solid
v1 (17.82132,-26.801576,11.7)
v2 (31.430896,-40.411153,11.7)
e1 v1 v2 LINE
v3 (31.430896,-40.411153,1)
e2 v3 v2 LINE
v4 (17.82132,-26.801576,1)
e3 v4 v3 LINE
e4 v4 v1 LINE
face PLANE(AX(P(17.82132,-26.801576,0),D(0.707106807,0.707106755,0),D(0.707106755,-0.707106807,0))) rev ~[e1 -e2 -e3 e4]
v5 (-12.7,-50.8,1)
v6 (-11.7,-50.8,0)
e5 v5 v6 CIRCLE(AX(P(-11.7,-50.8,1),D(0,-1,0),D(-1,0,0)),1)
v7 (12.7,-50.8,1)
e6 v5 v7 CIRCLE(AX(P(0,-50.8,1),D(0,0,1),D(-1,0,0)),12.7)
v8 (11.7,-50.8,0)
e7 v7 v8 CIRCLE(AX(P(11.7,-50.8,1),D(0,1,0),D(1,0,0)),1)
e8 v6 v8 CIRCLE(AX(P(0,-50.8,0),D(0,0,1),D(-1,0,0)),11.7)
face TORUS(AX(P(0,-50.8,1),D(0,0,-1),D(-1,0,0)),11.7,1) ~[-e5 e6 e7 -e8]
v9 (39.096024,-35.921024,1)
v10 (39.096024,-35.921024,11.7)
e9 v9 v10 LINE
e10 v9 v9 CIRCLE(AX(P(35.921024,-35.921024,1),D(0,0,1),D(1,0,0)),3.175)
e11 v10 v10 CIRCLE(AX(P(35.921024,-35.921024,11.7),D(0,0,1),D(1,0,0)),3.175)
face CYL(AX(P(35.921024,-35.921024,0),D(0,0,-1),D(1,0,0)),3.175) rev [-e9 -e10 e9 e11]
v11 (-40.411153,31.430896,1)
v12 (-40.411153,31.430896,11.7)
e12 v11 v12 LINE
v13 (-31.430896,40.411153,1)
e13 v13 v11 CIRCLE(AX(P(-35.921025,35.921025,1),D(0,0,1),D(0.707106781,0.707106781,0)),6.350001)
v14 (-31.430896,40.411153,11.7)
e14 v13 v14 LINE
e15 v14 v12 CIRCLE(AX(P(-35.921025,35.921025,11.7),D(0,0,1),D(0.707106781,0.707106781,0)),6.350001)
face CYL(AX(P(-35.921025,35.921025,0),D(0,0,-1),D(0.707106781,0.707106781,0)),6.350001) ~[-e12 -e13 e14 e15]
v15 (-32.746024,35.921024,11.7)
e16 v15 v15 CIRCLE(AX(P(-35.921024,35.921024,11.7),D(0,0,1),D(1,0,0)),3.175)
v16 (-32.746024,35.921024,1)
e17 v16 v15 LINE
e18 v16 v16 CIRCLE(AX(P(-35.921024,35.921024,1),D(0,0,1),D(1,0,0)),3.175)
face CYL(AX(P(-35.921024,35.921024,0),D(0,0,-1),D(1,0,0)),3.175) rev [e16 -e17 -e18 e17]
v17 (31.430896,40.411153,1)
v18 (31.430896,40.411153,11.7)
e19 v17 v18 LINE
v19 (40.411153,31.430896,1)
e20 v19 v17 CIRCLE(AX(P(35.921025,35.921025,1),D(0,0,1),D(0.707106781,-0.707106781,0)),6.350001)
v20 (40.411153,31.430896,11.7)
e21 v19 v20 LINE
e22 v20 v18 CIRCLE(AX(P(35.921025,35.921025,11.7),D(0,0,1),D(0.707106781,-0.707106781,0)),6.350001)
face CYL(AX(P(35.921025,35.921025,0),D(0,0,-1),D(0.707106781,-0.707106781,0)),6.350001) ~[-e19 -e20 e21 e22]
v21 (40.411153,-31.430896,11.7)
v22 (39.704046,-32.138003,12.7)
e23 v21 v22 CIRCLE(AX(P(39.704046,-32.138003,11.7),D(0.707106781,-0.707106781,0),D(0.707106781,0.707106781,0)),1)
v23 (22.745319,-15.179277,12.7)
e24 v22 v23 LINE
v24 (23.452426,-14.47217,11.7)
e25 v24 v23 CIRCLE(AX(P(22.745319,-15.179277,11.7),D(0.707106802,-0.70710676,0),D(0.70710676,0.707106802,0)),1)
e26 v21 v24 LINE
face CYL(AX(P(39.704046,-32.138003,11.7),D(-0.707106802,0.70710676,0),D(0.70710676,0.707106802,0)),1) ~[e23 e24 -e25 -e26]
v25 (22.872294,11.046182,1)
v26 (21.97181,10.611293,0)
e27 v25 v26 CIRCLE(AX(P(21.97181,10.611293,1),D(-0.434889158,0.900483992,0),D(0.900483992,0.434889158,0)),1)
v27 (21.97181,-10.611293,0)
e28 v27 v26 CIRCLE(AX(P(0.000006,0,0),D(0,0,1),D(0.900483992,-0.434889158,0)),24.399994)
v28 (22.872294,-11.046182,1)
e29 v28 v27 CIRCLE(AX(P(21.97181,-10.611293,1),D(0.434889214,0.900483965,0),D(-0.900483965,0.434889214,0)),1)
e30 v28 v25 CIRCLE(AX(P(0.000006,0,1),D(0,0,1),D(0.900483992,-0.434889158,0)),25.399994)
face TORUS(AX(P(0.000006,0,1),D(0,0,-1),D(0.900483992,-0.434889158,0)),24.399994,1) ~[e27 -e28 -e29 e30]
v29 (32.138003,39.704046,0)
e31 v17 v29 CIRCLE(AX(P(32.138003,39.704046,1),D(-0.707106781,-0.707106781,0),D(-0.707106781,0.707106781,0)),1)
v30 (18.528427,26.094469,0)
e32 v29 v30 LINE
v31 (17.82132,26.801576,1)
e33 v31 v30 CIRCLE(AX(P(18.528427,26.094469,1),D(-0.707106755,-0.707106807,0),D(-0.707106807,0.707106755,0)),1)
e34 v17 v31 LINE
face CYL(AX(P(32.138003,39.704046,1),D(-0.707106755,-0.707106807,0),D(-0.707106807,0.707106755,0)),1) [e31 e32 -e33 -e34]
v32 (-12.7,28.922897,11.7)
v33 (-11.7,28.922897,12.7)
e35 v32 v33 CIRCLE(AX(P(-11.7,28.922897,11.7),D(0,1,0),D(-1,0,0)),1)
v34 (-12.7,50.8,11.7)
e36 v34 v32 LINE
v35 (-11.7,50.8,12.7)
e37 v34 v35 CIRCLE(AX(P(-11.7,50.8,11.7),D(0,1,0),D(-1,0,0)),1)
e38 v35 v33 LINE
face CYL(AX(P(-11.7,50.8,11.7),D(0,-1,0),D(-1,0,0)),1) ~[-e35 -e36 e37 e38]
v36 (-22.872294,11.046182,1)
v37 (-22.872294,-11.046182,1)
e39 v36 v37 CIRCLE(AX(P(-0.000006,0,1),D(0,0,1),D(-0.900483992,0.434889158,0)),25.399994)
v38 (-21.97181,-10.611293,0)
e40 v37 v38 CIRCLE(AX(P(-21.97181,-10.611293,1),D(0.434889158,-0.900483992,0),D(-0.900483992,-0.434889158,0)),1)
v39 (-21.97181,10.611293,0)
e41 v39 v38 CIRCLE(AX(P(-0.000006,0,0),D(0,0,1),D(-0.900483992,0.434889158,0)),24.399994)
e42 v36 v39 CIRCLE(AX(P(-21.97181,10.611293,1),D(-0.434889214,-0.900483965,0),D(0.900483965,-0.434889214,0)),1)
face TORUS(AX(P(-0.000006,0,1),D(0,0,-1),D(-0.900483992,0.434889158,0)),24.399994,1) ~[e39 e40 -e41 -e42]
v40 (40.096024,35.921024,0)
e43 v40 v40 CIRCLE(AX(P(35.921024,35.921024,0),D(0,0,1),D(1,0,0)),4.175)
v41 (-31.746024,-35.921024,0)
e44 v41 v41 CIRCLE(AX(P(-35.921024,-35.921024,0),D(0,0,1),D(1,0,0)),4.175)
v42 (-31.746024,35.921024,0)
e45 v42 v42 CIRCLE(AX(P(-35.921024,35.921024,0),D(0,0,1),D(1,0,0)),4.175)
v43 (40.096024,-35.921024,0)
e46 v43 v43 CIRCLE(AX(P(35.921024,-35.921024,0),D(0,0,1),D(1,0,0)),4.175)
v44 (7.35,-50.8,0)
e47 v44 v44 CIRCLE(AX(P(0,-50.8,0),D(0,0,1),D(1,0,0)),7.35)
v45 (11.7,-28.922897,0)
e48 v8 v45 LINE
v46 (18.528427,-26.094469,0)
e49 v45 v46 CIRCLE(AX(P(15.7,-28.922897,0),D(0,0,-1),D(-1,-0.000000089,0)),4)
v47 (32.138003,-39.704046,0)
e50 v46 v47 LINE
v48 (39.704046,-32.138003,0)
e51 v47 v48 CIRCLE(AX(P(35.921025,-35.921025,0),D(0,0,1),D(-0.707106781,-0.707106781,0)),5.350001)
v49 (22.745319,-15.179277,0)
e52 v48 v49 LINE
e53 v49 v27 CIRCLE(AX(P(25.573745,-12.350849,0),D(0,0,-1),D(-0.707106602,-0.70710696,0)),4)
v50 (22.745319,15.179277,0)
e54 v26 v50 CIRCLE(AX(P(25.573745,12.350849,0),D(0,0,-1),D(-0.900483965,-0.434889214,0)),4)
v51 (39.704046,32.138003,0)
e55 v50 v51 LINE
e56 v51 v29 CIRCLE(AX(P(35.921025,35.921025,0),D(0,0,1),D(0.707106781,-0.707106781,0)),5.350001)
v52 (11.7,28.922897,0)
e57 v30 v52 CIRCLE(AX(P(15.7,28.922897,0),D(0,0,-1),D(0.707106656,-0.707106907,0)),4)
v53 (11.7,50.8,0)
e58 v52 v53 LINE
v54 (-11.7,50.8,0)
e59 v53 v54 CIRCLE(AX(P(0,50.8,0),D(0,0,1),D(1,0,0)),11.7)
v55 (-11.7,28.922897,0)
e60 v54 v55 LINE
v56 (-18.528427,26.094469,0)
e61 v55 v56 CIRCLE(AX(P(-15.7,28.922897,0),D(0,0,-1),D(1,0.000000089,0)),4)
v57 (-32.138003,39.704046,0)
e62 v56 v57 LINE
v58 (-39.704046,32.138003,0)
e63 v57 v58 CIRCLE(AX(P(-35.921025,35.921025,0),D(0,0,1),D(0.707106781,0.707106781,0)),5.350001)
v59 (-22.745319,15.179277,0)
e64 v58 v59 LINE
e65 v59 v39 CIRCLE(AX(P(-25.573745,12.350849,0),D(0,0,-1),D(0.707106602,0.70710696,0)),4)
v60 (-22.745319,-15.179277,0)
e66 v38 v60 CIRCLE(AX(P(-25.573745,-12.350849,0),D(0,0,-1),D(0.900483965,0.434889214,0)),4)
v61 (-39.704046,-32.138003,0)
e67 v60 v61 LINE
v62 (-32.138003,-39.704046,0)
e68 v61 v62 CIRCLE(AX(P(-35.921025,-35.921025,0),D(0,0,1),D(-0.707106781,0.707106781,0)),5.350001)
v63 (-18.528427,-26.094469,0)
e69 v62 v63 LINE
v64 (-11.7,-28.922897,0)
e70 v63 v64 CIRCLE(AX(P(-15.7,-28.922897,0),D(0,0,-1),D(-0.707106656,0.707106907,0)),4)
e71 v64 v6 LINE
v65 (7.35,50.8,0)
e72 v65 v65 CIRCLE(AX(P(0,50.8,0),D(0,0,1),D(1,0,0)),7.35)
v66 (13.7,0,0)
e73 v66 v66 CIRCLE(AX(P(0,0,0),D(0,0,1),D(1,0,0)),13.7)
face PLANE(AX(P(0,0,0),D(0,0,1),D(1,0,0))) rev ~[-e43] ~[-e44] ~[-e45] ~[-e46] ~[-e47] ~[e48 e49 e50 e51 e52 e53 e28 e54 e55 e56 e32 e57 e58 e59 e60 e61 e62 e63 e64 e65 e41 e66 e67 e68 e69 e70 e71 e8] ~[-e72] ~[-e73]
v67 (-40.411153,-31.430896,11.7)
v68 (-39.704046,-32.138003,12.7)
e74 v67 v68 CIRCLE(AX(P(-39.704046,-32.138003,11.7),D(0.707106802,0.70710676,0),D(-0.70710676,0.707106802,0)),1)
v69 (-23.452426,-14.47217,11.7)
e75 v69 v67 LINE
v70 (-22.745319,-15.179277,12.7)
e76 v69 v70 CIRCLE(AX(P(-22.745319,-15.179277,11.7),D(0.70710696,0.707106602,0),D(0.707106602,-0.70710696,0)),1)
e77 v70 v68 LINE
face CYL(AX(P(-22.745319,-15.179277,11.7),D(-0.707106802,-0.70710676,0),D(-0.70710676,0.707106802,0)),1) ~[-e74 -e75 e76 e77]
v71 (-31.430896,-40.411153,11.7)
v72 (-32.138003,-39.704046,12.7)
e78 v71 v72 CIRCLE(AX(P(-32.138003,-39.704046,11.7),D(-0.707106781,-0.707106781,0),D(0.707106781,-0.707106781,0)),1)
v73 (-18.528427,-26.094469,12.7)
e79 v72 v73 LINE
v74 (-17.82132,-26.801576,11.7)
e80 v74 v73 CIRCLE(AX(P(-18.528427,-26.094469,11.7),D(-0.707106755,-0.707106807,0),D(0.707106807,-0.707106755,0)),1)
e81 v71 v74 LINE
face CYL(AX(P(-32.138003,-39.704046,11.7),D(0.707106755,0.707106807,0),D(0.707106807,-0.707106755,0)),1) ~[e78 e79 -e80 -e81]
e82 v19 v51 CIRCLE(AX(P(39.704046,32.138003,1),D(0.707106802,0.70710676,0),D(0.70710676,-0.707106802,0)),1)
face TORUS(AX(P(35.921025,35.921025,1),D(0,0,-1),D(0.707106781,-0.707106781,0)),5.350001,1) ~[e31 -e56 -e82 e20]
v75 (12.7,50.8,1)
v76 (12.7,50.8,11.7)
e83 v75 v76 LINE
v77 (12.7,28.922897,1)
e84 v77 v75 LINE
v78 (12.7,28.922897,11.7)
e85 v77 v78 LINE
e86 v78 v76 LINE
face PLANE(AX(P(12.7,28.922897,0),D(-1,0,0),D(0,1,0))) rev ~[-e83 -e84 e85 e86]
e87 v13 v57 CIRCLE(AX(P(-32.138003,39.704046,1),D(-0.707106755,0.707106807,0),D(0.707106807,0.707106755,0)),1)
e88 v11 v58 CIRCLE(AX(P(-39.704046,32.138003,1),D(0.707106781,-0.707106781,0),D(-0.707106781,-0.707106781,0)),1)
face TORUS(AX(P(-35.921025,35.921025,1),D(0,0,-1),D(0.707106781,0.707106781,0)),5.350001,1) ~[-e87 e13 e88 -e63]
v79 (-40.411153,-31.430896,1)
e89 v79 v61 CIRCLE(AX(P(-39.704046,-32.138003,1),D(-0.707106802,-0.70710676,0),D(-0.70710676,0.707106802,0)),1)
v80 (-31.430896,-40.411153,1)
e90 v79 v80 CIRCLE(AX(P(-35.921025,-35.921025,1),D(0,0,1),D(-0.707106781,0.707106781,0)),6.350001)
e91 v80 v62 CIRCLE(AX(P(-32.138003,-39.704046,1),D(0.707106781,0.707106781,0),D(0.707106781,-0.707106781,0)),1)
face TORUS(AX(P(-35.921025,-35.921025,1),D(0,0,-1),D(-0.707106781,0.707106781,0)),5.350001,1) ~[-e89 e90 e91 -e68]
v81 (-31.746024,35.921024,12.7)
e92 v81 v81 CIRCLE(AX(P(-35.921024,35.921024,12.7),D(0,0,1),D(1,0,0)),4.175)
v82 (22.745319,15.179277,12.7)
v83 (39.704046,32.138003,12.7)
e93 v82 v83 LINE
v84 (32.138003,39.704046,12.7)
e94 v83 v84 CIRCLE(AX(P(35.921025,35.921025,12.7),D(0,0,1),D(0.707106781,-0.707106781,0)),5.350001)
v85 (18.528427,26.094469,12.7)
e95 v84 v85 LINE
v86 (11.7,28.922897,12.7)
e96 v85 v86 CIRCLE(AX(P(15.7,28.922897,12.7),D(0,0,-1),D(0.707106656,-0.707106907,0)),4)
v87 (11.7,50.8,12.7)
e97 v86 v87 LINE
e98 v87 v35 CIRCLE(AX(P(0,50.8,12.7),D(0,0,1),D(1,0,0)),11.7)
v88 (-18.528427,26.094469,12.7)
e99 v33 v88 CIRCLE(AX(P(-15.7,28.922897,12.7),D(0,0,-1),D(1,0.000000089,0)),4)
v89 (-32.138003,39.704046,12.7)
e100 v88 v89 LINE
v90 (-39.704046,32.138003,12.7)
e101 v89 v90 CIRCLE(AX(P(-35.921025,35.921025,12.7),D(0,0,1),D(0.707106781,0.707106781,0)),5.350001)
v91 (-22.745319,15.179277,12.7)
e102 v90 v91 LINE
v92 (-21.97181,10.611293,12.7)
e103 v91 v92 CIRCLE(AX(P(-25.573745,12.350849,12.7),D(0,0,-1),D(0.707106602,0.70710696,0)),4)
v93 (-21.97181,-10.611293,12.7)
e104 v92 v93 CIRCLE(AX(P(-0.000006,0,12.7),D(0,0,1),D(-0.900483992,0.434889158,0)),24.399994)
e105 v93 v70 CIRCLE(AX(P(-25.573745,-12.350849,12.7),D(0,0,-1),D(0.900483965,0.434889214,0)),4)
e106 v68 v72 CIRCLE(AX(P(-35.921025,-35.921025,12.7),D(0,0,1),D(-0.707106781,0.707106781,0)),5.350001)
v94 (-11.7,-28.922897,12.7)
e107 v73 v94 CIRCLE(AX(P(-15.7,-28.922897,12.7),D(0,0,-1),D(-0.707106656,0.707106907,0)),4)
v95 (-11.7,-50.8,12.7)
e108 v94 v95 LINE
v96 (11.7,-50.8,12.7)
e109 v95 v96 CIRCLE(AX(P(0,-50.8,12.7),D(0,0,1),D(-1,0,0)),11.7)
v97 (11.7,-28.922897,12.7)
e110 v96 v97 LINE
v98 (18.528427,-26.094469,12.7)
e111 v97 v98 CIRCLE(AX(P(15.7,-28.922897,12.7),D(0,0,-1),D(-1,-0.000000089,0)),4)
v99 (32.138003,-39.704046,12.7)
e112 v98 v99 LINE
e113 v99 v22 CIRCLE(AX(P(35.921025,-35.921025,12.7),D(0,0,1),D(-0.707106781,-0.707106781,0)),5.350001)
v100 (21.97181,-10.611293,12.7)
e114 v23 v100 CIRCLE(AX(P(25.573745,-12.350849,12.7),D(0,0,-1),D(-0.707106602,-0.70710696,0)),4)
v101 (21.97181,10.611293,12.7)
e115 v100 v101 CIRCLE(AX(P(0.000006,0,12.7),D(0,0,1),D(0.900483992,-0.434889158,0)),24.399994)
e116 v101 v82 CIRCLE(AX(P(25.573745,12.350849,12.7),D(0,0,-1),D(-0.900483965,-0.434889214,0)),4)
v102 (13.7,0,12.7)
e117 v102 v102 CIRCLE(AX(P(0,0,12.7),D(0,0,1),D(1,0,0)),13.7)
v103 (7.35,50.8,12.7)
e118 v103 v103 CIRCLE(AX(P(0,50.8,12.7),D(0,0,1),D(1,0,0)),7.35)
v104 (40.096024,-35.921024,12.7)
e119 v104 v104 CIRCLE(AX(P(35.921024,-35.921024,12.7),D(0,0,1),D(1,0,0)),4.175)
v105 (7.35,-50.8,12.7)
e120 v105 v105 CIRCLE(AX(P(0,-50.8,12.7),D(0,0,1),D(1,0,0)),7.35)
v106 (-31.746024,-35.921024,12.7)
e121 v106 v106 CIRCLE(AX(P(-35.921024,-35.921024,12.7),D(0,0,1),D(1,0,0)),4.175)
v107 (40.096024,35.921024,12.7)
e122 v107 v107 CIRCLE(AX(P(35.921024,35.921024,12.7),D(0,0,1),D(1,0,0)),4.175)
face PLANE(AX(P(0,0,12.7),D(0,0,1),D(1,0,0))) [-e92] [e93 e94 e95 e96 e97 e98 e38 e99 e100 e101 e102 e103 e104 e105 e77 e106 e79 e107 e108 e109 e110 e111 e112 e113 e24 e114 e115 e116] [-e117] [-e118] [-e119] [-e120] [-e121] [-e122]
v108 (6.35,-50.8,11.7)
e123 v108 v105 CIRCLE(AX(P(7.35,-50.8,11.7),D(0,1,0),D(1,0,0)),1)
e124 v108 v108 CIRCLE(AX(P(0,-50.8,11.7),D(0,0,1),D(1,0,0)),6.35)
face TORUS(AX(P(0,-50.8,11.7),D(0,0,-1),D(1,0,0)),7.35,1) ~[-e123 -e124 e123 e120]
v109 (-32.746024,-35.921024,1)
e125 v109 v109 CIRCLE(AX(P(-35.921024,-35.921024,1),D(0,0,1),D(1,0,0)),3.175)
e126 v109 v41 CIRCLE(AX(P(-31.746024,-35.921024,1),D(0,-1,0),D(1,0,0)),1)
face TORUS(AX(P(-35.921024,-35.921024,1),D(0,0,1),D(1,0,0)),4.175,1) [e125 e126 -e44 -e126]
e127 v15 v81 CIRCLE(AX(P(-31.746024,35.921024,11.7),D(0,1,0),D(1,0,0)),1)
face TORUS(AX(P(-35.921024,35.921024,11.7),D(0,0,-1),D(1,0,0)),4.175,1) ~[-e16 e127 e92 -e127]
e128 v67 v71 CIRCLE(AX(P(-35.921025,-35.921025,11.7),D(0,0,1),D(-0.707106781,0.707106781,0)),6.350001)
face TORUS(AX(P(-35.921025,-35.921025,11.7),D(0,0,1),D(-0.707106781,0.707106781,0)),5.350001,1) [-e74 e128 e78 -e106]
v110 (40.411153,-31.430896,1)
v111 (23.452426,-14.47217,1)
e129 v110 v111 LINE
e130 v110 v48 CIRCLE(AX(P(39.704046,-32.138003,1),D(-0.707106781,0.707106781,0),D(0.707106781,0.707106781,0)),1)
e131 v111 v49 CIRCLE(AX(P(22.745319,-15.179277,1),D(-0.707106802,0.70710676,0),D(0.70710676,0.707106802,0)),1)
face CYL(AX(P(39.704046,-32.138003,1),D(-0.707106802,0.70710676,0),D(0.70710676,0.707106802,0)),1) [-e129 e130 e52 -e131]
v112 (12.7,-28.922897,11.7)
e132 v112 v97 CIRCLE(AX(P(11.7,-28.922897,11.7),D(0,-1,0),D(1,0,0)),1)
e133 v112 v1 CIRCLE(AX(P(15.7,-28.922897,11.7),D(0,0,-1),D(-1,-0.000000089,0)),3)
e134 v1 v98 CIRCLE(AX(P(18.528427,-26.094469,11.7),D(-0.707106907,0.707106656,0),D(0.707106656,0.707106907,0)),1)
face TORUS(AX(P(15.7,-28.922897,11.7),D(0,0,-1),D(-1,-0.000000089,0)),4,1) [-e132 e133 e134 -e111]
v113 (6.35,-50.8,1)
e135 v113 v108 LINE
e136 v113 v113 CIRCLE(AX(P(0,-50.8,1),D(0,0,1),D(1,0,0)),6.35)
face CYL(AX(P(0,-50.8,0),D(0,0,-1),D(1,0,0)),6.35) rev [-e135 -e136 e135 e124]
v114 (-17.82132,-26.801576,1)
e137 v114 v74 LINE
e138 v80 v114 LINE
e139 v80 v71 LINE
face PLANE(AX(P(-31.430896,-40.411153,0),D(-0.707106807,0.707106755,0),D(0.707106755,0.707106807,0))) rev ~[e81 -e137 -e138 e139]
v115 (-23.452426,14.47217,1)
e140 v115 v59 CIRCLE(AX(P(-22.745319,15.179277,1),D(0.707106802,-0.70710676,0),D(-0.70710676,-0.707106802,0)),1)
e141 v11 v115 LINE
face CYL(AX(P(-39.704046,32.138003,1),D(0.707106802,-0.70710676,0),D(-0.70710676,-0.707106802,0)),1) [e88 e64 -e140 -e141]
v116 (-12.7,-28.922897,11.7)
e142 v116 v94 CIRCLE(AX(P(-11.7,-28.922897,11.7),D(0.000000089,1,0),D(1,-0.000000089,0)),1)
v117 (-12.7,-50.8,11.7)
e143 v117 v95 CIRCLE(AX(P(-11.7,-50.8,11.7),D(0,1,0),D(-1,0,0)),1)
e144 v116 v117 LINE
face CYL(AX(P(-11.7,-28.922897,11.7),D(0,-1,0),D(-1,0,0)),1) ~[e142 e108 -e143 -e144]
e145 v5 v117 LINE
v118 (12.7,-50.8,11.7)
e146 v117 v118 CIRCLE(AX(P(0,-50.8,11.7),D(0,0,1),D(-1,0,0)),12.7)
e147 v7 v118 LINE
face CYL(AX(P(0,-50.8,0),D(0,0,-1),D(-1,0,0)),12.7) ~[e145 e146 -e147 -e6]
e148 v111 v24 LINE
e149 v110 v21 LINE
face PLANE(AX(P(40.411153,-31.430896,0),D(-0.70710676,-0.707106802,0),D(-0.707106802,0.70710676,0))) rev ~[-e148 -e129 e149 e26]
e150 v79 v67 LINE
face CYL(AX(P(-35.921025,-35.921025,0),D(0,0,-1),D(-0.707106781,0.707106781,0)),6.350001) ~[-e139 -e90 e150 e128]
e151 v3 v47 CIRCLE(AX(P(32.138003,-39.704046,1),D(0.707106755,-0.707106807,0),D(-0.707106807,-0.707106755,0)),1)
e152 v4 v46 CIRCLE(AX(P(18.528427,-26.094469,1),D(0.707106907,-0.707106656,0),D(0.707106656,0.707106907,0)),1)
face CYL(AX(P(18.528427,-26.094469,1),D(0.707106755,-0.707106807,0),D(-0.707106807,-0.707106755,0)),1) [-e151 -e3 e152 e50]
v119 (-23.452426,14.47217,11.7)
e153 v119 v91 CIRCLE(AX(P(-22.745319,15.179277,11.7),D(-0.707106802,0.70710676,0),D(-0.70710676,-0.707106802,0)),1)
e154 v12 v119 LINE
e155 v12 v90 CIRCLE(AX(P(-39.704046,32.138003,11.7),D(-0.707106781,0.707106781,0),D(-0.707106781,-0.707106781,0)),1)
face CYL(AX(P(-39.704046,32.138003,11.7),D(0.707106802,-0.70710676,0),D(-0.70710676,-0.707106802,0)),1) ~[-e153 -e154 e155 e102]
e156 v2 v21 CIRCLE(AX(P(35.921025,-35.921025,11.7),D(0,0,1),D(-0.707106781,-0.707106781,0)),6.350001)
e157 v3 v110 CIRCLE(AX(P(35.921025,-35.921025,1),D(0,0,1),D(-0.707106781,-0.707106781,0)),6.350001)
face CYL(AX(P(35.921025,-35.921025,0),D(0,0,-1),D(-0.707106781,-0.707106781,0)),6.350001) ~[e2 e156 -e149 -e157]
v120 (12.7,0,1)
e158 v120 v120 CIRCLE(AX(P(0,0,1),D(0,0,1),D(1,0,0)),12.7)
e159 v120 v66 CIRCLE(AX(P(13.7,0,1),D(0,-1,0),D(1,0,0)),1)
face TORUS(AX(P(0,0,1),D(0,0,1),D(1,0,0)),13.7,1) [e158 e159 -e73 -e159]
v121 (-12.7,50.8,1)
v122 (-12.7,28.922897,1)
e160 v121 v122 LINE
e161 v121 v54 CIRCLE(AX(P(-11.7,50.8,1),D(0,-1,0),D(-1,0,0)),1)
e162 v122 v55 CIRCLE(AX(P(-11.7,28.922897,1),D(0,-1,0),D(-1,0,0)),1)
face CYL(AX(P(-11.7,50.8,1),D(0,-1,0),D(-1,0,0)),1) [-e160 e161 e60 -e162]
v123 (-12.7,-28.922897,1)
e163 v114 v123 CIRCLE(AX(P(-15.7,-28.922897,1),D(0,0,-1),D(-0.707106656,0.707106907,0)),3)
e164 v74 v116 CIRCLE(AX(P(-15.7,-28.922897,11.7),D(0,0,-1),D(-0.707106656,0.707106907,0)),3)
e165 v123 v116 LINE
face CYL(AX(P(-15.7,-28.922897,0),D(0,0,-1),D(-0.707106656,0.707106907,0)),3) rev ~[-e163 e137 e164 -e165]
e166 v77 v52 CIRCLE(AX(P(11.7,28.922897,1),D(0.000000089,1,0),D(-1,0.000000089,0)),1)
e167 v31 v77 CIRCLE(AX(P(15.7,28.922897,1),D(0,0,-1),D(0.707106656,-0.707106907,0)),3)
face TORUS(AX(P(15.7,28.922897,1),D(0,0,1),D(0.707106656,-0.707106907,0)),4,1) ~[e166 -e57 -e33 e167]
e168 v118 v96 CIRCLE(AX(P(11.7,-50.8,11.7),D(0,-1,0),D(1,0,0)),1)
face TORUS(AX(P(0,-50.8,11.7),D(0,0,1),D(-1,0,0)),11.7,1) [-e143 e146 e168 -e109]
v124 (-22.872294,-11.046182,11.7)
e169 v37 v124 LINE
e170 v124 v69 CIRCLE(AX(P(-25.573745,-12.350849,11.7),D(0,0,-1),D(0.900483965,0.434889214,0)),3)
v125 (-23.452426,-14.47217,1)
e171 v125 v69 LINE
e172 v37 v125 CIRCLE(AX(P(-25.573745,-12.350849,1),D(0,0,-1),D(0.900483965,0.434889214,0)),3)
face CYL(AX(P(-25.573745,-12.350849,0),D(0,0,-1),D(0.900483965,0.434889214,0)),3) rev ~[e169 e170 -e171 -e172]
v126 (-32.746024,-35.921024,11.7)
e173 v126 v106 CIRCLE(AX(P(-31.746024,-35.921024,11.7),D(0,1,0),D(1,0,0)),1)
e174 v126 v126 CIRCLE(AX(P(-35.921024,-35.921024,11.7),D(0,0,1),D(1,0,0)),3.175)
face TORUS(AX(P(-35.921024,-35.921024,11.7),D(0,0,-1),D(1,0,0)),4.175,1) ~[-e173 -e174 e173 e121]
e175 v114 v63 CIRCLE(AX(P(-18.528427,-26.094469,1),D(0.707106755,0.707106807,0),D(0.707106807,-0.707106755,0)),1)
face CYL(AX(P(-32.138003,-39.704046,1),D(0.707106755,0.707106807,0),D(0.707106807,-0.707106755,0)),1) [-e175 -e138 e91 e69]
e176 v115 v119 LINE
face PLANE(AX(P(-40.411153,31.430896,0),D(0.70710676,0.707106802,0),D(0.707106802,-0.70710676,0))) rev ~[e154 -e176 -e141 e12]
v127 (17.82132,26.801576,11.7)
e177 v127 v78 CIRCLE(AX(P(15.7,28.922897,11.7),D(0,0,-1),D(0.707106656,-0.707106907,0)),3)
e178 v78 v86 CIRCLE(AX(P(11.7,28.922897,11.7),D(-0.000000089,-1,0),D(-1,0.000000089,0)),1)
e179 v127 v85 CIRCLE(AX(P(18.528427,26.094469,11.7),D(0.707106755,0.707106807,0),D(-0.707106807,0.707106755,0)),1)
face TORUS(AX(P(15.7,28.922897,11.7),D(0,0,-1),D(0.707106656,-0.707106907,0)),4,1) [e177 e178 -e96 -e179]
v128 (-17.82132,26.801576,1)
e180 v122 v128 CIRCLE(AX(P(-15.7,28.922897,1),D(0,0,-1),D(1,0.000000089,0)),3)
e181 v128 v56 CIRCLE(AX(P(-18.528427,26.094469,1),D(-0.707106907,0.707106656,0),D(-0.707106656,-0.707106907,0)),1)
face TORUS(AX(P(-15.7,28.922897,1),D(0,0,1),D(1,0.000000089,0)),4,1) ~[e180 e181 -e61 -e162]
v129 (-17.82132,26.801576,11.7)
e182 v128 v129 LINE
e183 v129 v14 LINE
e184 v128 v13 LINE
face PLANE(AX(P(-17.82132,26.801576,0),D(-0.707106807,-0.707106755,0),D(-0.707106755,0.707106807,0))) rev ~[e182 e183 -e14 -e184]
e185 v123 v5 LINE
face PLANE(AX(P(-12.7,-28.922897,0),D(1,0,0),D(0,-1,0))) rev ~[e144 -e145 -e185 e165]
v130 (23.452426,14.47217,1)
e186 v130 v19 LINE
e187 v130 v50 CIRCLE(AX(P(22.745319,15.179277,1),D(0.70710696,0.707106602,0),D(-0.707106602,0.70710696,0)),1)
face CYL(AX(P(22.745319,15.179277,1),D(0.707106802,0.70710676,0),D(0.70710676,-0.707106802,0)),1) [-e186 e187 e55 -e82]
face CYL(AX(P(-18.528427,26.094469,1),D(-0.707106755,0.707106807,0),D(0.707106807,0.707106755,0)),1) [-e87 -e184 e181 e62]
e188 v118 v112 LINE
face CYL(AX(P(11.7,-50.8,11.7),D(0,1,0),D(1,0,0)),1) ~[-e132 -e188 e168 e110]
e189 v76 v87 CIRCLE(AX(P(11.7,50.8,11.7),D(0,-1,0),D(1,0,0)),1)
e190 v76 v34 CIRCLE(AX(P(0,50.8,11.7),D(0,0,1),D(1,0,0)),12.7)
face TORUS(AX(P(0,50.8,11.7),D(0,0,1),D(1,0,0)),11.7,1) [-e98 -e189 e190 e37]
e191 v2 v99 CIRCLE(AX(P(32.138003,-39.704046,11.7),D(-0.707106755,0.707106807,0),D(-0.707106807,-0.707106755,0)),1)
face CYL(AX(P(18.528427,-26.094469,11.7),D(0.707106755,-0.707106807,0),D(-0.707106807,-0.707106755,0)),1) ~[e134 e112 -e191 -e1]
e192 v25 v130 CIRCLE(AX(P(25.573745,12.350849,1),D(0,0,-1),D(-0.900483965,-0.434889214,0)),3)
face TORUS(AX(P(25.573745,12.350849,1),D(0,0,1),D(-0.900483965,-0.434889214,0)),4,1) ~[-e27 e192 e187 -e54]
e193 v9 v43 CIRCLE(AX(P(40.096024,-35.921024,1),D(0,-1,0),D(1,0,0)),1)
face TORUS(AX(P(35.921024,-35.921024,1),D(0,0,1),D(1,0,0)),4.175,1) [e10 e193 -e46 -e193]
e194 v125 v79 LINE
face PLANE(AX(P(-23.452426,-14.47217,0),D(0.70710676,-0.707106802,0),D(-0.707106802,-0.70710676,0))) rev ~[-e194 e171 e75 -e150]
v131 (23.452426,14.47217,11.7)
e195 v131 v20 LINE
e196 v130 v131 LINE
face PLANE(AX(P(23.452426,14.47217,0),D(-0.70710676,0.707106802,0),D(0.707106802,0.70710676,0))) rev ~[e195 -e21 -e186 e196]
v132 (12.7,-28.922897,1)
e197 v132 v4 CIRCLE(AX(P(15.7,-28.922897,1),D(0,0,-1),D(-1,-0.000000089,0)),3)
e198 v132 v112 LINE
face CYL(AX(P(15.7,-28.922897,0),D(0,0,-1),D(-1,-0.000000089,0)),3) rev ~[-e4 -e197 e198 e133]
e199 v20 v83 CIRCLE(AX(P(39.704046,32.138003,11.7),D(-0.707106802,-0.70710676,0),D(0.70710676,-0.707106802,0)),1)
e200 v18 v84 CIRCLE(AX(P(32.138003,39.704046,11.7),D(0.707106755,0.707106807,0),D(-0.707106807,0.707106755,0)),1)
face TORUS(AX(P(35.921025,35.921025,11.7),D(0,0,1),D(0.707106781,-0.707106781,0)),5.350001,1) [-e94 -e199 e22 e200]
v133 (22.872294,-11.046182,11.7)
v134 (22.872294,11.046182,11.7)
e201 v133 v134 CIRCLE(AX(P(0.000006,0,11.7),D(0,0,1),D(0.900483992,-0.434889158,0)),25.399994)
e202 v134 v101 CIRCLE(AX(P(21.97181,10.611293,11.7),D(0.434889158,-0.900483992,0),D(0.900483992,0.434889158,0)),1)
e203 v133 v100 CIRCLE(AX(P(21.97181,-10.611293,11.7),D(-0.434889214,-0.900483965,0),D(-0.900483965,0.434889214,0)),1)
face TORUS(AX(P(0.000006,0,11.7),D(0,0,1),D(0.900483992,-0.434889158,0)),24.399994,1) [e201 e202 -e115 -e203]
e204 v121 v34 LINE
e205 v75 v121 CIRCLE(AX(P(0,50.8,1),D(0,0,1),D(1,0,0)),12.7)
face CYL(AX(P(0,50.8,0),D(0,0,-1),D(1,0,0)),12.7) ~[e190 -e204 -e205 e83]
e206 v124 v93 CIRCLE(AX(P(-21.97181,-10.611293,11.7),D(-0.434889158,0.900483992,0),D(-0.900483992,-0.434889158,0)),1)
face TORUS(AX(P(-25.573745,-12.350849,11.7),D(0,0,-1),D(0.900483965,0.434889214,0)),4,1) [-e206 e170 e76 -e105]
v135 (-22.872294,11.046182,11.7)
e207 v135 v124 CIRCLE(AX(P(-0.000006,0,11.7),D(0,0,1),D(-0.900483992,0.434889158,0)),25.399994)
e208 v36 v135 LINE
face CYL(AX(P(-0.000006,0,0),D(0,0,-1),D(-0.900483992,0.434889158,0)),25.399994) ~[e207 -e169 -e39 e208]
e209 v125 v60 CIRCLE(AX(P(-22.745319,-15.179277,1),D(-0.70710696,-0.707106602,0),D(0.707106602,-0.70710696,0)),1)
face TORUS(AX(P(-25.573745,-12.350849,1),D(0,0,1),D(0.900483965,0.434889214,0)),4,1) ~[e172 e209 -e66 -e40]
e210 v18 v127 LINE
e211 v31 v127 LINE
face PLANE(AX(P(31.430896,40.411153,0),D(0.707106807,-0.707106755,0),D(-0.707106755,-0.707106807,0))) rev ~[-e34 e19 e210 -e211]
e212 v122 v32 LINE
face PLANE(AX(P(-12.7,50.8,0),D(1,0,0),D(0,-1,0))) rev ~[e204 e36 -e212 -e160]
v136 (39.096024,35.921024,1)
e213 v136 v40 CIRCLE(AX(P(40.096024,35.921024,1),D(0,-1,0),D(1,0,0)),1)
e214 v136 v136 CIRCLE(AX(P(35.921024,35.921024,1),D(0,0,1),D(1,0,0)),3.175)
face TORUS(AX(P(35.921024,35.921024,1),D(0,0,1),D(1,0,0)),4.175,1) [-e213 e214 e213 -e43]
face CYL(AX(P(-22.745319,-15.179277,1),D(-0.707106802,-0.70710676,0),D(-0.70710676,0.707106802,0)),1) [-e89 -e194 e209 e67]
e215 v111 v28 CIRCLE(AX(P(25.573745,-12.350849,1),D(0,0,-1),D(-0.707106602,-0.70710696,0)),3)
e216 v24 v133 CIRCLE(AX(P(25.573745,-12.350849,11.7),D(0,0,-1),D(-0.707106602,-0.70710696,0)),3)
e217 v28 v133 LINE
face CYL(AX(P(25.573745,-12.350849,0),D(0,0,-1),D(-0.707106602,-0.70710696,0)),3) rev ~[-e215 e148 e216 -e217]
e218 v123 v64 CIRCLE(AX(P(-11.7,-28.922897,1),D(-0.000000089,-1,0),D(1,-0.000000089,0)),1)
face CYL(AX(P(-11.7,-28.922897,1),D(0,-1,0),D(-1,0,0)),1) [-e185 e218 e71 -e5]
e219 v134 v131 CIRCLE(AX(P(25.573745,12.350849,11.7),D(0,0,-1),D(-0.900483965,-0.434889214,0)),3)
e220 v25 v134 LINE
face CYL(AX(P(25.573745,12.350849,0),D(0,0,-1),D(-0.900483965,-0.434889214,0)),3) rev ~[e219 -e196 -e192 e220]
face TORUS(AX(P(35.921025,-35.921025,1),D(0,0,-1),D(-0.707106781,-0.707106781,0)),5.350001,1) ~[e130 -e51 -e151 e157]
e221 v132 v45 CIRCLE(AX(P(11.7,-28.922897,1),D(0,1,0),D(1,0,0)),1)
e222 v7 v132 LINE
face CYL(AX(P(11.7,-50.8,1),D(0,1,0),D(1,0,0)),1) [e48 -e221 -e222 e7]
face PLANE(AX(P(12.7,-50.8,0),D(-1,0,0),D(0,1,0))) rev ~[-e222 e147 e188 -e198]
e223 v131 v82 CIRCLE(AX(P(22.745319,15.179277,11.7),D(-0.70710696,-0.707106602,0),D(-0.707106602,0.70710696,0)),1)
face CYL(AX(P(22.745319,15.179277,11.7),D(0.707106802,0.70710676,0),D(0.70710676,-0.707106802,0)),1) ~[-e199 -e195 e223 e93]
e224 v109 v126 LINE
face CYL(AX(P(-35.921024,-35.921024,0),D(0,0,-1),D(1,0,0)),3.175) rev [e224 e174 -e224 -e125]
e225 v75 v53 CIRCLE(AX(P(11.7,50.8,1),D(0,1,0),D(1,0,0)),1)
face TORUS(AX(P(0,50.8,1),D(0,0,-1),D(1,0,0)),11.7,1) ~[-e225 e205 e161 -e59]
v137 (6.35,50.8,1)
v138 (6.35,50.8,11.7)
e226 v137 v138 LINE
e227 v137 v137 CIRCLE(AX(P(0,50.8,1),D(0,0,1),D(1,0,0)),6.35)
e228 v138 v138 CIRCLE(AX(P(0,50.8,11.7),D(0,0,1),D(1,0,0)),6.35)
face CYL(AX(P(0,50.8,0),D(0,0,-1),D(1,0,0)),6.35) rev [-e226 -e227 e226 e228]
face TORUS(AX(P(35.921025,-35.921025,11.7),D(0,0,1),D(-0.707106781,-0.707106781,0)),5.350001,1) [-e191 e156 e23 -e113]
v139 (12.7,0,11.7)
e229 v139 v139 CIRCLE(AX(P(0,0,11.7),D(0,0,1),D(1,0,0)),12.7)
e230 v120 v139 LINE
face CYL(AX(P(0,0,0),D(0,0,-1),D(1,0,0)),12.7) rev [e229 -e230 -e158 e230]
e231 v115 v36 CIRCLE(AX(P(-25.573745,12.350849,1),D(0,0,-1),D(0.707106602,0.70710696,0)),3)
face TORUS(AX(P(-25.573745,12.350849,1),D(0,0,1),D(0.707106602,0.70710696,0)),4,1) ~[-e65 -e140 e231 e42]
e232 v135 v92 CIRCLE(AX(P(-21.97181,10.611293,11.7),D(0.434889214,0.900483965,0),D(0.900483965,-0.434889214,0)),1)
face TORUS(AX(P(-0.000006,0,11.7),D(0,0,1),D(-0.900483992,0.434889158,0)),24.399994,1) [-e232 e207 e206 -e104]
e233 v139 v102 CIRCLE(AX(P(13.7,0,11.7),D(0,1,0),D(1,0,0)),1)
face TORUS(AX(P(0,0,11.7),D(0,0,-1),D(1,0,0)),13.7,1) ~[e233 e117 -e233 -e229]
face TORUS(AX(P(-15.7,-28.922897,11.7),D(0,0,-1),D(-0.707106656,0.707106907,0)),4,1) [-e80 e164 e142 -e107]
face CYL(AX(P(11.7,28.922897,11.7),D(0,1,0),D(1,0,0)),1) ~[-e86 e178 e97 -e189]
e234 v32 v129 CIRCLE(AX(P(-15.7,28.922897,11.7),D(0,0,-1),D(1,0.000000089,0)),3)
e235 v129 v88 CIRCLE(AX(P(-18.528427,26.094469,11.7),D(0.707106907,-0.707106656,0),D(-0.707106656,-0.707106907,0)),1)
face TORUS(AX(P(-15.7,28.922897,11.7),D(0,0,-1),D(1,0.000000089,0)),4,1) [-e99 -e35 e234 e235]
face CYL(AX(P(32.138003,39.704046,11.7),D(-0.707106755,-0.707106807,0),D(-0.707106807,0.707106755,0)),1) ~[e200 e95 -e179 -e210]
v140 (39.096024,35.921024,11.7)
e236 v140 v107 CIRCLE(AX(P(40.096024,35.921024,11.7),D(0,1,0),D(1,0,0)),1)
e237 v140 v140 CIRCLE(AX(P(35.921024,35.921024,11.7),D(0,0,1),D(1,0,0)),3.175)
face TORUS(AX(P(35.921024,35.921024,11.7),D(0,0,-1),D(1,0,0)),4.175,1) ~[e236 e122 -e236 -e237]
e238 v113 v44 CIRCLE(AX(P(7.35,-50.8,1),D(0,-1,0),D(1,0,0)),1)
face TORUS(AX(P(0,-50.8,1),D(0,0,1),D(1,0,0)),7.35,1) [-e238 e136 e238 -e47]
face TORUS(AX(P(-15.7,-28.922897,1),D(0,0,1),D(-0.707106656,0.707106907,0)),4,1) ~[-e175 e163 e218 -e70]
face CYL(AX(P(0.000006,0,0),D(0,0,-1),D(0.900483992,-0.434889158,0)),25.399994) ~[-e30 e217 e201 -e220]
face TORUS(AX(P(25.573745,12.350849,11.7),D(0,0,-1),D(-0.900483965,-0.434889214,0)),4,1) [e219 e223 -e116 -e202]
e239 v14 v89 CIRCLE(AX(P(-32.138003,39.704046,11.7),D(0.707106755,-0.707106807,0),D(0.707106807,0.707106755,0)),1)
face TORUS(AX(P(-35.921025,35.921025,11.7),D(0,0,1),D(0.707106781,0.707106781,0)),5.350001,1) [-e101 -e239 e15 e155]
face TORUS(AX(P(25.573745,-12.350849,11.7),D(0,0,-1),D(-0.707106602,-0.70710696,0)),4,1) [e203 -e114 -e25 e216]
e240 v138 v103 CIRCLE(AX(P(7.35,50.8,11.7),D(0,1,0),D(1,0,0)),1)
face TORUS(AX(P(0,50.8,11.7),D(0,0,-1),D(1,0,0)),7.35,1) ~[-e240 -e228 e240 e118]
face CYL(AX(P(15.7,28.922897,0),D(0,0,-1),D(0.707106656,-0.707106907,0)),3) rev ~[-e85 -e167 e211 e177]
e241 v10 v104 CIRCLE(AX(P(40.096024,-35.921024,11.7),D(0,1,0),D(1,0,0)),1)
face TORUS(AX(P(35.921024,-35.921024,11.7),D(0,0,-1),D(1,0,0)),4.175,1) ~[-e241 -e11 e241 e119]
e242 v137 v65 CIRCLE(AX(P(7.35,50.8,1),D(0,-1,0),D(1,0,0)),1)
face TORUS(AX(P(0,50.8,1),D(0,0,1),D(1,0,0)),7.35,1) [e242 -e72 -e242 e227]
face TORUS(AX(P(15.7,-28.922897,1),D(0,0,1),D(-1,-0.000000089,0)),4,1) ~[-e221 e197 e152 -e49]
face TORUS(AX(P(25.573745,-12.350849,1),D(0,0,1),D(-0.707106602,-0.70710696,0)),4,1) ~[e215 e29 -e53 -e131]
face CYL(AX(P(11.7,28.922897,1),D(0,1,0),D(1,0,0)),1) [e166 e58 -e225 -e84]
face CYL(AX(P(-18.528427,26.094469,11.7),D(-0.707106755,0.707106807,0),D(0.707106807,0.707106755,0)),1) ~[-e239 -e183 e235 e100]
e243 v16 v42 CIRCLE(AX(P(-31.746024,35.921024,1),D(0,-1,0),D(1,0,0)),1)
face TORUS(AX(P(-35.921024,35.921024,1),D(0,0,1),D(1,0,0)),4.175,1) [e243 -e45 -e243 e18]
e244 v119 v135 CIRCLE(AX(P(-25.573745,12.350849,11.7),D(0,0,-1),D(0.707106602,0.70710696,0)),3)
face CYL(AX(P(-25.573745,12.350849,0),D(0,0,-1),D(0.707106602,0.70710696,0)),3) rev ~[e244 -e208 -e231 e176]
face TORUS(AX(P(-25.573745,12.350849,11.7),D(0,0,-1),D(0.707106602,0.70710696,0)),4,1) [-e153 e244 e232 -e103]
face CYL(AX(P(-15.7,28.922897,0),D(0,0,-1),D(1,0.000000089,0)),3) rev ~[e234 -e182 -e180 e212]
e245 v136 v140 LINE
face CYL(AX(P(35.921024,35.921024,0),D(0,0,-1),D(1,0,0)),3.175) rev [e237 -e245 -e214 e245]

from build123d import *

# Parameters (mm, degrees)
F0_R     = 3.175
F0_R_2   = 6.35
F0_R_3   = 12.7
F1_DEPTH = 12.7
F2_R     = 1


with BuildPart() as f1:
    # F0 (on Top) → F1 (new body)
    with BuildSketch(Plane.XY):
        with BuildLine():
            Line((12.7, 28.922897), (12.7, 50.8))
            ThreePointArc((12.7, 50.8), (0, 63.5), (-12.7, 50.8))
            Line((-12.7, 50.8), (-12.7, 28.922897))
            ThreePointArc((-12.7, 28.922897), (-14.55195, 26.151258), (-17.82132, 26.801576))
            Line((-17.82132, 26.801576), (-31.430896, 40.411153))
            ThreePointArc((-31.430896, 40.411153), (-40.411153, 40.411153), (-40.411153, 31.430896))
            Line((-40.411153, 31.430896), (-23.452426, 14.47217))
            ThreePointArc((-23.452426, 14.47217), (-22.615853, 12.851718), (-22.872294, 11.046182))
            ThreePointArc((-22.872294, 11.046182), (-25.4, 0), (-22.872294, -11.046182))
            ThreePointArc((-22.872294, -11.046182), (-22.615853, -12.851718), (-23.452426, -14.47217))
            Line((-23.452426, -14.47217), (-40.411153, -31.430896))
            ThreePointArc((-40.411153, -31.430896), (-40.411153, -40.411153), (-31.430896, -40.411153))
            Line((-31.430896, -40.411153), (-17.82132, -26.801576))
            ThreePointArc((-17.82132, -26.801576), (-14.55195, -26.151258), (-12.7, -28.922897))
            Line((-12.7, -28.922897), (-12.7, -50.8))
            ThreePointArc((-12.7, -50.8), (0, -63.5), (12.7, -50.8))
            Line((12.7, -50.8), (12.7, -28.922897))
            ThreePointArc((12.7, -28.922897), (14.55195, -26.151258), (17.82132, -26.801576))
            Line((17.82132, -26.801576), (31.430896, -40.411153))
            ThreePointArc((31.430896, -40.411153), (40.411153, -40.411153), (40.411153, -31.430896))
            Line((40.411153, -31.430896), (23.452426, -14.47217))
            ThreePointArc((23.452426, -14.47217), (22.615853, -12.851718), (22.872294, -11.046182))
            ThreePointArc((22.872294, -11.046182), (25.4, 0), (22.872294, 11.046182))
            ThreePointArc((22.872294, 11.046182), (22.615853, 12.851718), (23.452426, 14.47217))
            Line((23.452426, 14.47217), (40.411153, 31.430896))
            ThreePointArc((40.411153, 31.430896), (40.411153, 40.411153), (31.430896, 40.411153))
            Line((31.430896, 40.411153), (17.82132, 26.801576))
            ThreePointArc((17.82132, 26.801576), (14.55195, 26.151258), (12.7, 28.922897))
        make_face()
        with Locations((-35.921024, -35.921024)):
            Circle(F0_R, mode=Mode.SUBTRACT)
        with Locations((0, -50.8)):
            Circle(F0_R_2, mode=Mode.SUBTRACT)
        with Locations((35.921024, -35.921024)):
            Circle(F0_R, mode=Mode.SUBTRACT)
        with Locations((-35.921024, 35.921024)):
            Circle(F0_R, mode=Mode.SUBTRACT)
        Circle(F0_R_3, mode=Mode.SUBTRACT)
        with Locations((0, 50.8)):
            Circle(F0_R_2, mode=Mode.SUBTRACT)
        with Locations((35.921024, 35.921024)):
            Circle(F0_R, mode=Mode.SUBTRACT)
    extrude(amount=F1_DEPTH)

    # F2
    f2_edges = [f1.edges().sort_by_distance(p)[0] for p in [
        (24.626108, 33.606365, 12.7),
        (14.55195, 26.151258, 12.7),
        (12.7, 39.861448, 12.7),
        (0, 63.5, 12.7),
        (-12.7, 39.861448, 12.7),
        (-14.55195, 26.151258, 12.7),
        (-24.626108, 33.606365, 12.7),
        (-40.411153, 40.411153, 12.7),
        (-31.931789, 22.951533, 12.7),
        (-22.615853, 12.851718, 12.7),
        (-25.4, 0, 12.7),
        (-22.615853, -12.851718, 12.7),
        (-31.931789, -22.951533, 12.7),
        (-40.411153, -40.411153, 12.7),
        (-24.626108, -33.606365, 12.7),
        (-14.55195, -26.151258, 12.7),
        (-12.7, -39.861448, 12.7),
        (0, -63.5, 12.7),
        (12.7, -39.861448, 12.7),
        (14.55195, -26.151258, 12.7),
        (24.626108, -33.606365, 12.7),
        (40.411153, -40.411153, 12.7),
        (31.931789, -22.951533, 12.7),
        (22.615853, -12.851718, 12.7),
        (25.4, 0, 12.7),
        (22.615853, 12.851718, 12.7),
        (31.931789, 22.951533, 12.7),
        (40.411153, 40.411153, 12.7),
        (-39.096024, -35.921024, 12.7),
        (-6.35, -50.8, 12.7),
        (32.746024, -35.921024, 12.7),
        (-39.096024, 35.921024, 12.7),
        (-12.7, 0, 12.7),
        (-6.35, 50.8, 12.7),
        (32.746024, 35.921024, 12.7),
        (12.7, -50.8, 6.35),
        (12.7, -28.922897, 6.35),
        (12.7, -39.861448, 0),
        (-12.7, -50.8, 6.35),
        (0, -63.5, 0),
        (-17.82132, -26.801576, 6.35),
        (-12.7, -28.922897, 6.35),
        (-14.55195, -26.151258, 0),
        (-12.7, 28.922897, 6.35),
        (-17.82132, 26.801576, 6.35),
        (-14.55195, 26.151258, 0),
        (24.626108, -33.606365, 0),
        (-31.430896, -40.411153, 6.35),
        (-24.626108, -33.606365, 0),
        (-40.411153, 31.430896, 6.35),
        (-23.452426, 14.47217, 6.35),
        (-31.931789, 22.951533, 0),
        (22.872294, -11.046182, 6.35),
        (22.872294, 11.046182, 6.35),
        (25.4, 0, 0),
        (23.452426, 14.47217, 6.35),
        (22.615853, 12.851718, 0),
        (-32.746024, -35.921024, 6.35),
        (-39.096024, -35.921024, 0),
        (39.096024, -35.921024, 6.35),
        (32.746024, -35.921024, 0),
        (39.096024, 35.921024, 6.35),
        (32.746024, 35.921024, 0),
        (-32.746024, 35.921024, 6.35),
        (-39.096024, 35.921024, 0),
        (-40.411153, -31.430896, 6.35),
        (-40.411153, -40.411153, 0),
        (31.430896, -40.411153, 6.35),
        (40.411153, -31.430896, 6.35),
        (40.411153, -40.411153, 0),
        (40.411153, 31.430896, 6.35),
        (31.430896, 40.411153, 6.35),
        (40.411153, 40.411153, 0),
        (-31.430896, 40.411153, 6.35),
        (-24.626108, 33.606365, 0),
        (31.931789, 22.951533, 0),
        (-40.411153, 40.411153, 0),
        (6.35, 50.8, 6.35),
        (-6.35, 50.8, 0),
        (12.7, 50.8, 6.35),
        (-12.7, 50.8, 6.35),
        (0, 63.5, 0),
        (17.82132, -26.801576, 6.35),
        (-22.872294, -11.046182, 6.35),
        (-23.452426, -14.47217, 6.35),
        (-22.615853, -12.851718, 0),
        (24.626108, 33.606365, 0),
        (14.55195, 26.151258, 0),
        (12.7, 39.861448, 0),
        (-12.7, 39.861448, 0),
        (-22.615853, 12.851718, 0),
        (-25.4, 0, 0),
        (-31.931789, -22.951533, 0),
        (-12.7, -39.861448, 0),
        (14.55195, -26.151258, 0),
        (31.931789, -22.951533, 0),
        (22.615853, -12.851718, 0),
        (-6.35, -50.8, 0),
        (-12.7, 0, 0),
        (12.7, 0, 6.35),
        (-22.872294, 11.046182, 6.35),
        (12.7, 28.922897, 6.35),
        (17.82132, 26.801576, 6.35),
        (6.35, -50.8, 6.35),
        (23.452426, -14.47217, 6.35),
    ]]
    fillet(f2_edges, radius=F2_R)


solid = f1.part
